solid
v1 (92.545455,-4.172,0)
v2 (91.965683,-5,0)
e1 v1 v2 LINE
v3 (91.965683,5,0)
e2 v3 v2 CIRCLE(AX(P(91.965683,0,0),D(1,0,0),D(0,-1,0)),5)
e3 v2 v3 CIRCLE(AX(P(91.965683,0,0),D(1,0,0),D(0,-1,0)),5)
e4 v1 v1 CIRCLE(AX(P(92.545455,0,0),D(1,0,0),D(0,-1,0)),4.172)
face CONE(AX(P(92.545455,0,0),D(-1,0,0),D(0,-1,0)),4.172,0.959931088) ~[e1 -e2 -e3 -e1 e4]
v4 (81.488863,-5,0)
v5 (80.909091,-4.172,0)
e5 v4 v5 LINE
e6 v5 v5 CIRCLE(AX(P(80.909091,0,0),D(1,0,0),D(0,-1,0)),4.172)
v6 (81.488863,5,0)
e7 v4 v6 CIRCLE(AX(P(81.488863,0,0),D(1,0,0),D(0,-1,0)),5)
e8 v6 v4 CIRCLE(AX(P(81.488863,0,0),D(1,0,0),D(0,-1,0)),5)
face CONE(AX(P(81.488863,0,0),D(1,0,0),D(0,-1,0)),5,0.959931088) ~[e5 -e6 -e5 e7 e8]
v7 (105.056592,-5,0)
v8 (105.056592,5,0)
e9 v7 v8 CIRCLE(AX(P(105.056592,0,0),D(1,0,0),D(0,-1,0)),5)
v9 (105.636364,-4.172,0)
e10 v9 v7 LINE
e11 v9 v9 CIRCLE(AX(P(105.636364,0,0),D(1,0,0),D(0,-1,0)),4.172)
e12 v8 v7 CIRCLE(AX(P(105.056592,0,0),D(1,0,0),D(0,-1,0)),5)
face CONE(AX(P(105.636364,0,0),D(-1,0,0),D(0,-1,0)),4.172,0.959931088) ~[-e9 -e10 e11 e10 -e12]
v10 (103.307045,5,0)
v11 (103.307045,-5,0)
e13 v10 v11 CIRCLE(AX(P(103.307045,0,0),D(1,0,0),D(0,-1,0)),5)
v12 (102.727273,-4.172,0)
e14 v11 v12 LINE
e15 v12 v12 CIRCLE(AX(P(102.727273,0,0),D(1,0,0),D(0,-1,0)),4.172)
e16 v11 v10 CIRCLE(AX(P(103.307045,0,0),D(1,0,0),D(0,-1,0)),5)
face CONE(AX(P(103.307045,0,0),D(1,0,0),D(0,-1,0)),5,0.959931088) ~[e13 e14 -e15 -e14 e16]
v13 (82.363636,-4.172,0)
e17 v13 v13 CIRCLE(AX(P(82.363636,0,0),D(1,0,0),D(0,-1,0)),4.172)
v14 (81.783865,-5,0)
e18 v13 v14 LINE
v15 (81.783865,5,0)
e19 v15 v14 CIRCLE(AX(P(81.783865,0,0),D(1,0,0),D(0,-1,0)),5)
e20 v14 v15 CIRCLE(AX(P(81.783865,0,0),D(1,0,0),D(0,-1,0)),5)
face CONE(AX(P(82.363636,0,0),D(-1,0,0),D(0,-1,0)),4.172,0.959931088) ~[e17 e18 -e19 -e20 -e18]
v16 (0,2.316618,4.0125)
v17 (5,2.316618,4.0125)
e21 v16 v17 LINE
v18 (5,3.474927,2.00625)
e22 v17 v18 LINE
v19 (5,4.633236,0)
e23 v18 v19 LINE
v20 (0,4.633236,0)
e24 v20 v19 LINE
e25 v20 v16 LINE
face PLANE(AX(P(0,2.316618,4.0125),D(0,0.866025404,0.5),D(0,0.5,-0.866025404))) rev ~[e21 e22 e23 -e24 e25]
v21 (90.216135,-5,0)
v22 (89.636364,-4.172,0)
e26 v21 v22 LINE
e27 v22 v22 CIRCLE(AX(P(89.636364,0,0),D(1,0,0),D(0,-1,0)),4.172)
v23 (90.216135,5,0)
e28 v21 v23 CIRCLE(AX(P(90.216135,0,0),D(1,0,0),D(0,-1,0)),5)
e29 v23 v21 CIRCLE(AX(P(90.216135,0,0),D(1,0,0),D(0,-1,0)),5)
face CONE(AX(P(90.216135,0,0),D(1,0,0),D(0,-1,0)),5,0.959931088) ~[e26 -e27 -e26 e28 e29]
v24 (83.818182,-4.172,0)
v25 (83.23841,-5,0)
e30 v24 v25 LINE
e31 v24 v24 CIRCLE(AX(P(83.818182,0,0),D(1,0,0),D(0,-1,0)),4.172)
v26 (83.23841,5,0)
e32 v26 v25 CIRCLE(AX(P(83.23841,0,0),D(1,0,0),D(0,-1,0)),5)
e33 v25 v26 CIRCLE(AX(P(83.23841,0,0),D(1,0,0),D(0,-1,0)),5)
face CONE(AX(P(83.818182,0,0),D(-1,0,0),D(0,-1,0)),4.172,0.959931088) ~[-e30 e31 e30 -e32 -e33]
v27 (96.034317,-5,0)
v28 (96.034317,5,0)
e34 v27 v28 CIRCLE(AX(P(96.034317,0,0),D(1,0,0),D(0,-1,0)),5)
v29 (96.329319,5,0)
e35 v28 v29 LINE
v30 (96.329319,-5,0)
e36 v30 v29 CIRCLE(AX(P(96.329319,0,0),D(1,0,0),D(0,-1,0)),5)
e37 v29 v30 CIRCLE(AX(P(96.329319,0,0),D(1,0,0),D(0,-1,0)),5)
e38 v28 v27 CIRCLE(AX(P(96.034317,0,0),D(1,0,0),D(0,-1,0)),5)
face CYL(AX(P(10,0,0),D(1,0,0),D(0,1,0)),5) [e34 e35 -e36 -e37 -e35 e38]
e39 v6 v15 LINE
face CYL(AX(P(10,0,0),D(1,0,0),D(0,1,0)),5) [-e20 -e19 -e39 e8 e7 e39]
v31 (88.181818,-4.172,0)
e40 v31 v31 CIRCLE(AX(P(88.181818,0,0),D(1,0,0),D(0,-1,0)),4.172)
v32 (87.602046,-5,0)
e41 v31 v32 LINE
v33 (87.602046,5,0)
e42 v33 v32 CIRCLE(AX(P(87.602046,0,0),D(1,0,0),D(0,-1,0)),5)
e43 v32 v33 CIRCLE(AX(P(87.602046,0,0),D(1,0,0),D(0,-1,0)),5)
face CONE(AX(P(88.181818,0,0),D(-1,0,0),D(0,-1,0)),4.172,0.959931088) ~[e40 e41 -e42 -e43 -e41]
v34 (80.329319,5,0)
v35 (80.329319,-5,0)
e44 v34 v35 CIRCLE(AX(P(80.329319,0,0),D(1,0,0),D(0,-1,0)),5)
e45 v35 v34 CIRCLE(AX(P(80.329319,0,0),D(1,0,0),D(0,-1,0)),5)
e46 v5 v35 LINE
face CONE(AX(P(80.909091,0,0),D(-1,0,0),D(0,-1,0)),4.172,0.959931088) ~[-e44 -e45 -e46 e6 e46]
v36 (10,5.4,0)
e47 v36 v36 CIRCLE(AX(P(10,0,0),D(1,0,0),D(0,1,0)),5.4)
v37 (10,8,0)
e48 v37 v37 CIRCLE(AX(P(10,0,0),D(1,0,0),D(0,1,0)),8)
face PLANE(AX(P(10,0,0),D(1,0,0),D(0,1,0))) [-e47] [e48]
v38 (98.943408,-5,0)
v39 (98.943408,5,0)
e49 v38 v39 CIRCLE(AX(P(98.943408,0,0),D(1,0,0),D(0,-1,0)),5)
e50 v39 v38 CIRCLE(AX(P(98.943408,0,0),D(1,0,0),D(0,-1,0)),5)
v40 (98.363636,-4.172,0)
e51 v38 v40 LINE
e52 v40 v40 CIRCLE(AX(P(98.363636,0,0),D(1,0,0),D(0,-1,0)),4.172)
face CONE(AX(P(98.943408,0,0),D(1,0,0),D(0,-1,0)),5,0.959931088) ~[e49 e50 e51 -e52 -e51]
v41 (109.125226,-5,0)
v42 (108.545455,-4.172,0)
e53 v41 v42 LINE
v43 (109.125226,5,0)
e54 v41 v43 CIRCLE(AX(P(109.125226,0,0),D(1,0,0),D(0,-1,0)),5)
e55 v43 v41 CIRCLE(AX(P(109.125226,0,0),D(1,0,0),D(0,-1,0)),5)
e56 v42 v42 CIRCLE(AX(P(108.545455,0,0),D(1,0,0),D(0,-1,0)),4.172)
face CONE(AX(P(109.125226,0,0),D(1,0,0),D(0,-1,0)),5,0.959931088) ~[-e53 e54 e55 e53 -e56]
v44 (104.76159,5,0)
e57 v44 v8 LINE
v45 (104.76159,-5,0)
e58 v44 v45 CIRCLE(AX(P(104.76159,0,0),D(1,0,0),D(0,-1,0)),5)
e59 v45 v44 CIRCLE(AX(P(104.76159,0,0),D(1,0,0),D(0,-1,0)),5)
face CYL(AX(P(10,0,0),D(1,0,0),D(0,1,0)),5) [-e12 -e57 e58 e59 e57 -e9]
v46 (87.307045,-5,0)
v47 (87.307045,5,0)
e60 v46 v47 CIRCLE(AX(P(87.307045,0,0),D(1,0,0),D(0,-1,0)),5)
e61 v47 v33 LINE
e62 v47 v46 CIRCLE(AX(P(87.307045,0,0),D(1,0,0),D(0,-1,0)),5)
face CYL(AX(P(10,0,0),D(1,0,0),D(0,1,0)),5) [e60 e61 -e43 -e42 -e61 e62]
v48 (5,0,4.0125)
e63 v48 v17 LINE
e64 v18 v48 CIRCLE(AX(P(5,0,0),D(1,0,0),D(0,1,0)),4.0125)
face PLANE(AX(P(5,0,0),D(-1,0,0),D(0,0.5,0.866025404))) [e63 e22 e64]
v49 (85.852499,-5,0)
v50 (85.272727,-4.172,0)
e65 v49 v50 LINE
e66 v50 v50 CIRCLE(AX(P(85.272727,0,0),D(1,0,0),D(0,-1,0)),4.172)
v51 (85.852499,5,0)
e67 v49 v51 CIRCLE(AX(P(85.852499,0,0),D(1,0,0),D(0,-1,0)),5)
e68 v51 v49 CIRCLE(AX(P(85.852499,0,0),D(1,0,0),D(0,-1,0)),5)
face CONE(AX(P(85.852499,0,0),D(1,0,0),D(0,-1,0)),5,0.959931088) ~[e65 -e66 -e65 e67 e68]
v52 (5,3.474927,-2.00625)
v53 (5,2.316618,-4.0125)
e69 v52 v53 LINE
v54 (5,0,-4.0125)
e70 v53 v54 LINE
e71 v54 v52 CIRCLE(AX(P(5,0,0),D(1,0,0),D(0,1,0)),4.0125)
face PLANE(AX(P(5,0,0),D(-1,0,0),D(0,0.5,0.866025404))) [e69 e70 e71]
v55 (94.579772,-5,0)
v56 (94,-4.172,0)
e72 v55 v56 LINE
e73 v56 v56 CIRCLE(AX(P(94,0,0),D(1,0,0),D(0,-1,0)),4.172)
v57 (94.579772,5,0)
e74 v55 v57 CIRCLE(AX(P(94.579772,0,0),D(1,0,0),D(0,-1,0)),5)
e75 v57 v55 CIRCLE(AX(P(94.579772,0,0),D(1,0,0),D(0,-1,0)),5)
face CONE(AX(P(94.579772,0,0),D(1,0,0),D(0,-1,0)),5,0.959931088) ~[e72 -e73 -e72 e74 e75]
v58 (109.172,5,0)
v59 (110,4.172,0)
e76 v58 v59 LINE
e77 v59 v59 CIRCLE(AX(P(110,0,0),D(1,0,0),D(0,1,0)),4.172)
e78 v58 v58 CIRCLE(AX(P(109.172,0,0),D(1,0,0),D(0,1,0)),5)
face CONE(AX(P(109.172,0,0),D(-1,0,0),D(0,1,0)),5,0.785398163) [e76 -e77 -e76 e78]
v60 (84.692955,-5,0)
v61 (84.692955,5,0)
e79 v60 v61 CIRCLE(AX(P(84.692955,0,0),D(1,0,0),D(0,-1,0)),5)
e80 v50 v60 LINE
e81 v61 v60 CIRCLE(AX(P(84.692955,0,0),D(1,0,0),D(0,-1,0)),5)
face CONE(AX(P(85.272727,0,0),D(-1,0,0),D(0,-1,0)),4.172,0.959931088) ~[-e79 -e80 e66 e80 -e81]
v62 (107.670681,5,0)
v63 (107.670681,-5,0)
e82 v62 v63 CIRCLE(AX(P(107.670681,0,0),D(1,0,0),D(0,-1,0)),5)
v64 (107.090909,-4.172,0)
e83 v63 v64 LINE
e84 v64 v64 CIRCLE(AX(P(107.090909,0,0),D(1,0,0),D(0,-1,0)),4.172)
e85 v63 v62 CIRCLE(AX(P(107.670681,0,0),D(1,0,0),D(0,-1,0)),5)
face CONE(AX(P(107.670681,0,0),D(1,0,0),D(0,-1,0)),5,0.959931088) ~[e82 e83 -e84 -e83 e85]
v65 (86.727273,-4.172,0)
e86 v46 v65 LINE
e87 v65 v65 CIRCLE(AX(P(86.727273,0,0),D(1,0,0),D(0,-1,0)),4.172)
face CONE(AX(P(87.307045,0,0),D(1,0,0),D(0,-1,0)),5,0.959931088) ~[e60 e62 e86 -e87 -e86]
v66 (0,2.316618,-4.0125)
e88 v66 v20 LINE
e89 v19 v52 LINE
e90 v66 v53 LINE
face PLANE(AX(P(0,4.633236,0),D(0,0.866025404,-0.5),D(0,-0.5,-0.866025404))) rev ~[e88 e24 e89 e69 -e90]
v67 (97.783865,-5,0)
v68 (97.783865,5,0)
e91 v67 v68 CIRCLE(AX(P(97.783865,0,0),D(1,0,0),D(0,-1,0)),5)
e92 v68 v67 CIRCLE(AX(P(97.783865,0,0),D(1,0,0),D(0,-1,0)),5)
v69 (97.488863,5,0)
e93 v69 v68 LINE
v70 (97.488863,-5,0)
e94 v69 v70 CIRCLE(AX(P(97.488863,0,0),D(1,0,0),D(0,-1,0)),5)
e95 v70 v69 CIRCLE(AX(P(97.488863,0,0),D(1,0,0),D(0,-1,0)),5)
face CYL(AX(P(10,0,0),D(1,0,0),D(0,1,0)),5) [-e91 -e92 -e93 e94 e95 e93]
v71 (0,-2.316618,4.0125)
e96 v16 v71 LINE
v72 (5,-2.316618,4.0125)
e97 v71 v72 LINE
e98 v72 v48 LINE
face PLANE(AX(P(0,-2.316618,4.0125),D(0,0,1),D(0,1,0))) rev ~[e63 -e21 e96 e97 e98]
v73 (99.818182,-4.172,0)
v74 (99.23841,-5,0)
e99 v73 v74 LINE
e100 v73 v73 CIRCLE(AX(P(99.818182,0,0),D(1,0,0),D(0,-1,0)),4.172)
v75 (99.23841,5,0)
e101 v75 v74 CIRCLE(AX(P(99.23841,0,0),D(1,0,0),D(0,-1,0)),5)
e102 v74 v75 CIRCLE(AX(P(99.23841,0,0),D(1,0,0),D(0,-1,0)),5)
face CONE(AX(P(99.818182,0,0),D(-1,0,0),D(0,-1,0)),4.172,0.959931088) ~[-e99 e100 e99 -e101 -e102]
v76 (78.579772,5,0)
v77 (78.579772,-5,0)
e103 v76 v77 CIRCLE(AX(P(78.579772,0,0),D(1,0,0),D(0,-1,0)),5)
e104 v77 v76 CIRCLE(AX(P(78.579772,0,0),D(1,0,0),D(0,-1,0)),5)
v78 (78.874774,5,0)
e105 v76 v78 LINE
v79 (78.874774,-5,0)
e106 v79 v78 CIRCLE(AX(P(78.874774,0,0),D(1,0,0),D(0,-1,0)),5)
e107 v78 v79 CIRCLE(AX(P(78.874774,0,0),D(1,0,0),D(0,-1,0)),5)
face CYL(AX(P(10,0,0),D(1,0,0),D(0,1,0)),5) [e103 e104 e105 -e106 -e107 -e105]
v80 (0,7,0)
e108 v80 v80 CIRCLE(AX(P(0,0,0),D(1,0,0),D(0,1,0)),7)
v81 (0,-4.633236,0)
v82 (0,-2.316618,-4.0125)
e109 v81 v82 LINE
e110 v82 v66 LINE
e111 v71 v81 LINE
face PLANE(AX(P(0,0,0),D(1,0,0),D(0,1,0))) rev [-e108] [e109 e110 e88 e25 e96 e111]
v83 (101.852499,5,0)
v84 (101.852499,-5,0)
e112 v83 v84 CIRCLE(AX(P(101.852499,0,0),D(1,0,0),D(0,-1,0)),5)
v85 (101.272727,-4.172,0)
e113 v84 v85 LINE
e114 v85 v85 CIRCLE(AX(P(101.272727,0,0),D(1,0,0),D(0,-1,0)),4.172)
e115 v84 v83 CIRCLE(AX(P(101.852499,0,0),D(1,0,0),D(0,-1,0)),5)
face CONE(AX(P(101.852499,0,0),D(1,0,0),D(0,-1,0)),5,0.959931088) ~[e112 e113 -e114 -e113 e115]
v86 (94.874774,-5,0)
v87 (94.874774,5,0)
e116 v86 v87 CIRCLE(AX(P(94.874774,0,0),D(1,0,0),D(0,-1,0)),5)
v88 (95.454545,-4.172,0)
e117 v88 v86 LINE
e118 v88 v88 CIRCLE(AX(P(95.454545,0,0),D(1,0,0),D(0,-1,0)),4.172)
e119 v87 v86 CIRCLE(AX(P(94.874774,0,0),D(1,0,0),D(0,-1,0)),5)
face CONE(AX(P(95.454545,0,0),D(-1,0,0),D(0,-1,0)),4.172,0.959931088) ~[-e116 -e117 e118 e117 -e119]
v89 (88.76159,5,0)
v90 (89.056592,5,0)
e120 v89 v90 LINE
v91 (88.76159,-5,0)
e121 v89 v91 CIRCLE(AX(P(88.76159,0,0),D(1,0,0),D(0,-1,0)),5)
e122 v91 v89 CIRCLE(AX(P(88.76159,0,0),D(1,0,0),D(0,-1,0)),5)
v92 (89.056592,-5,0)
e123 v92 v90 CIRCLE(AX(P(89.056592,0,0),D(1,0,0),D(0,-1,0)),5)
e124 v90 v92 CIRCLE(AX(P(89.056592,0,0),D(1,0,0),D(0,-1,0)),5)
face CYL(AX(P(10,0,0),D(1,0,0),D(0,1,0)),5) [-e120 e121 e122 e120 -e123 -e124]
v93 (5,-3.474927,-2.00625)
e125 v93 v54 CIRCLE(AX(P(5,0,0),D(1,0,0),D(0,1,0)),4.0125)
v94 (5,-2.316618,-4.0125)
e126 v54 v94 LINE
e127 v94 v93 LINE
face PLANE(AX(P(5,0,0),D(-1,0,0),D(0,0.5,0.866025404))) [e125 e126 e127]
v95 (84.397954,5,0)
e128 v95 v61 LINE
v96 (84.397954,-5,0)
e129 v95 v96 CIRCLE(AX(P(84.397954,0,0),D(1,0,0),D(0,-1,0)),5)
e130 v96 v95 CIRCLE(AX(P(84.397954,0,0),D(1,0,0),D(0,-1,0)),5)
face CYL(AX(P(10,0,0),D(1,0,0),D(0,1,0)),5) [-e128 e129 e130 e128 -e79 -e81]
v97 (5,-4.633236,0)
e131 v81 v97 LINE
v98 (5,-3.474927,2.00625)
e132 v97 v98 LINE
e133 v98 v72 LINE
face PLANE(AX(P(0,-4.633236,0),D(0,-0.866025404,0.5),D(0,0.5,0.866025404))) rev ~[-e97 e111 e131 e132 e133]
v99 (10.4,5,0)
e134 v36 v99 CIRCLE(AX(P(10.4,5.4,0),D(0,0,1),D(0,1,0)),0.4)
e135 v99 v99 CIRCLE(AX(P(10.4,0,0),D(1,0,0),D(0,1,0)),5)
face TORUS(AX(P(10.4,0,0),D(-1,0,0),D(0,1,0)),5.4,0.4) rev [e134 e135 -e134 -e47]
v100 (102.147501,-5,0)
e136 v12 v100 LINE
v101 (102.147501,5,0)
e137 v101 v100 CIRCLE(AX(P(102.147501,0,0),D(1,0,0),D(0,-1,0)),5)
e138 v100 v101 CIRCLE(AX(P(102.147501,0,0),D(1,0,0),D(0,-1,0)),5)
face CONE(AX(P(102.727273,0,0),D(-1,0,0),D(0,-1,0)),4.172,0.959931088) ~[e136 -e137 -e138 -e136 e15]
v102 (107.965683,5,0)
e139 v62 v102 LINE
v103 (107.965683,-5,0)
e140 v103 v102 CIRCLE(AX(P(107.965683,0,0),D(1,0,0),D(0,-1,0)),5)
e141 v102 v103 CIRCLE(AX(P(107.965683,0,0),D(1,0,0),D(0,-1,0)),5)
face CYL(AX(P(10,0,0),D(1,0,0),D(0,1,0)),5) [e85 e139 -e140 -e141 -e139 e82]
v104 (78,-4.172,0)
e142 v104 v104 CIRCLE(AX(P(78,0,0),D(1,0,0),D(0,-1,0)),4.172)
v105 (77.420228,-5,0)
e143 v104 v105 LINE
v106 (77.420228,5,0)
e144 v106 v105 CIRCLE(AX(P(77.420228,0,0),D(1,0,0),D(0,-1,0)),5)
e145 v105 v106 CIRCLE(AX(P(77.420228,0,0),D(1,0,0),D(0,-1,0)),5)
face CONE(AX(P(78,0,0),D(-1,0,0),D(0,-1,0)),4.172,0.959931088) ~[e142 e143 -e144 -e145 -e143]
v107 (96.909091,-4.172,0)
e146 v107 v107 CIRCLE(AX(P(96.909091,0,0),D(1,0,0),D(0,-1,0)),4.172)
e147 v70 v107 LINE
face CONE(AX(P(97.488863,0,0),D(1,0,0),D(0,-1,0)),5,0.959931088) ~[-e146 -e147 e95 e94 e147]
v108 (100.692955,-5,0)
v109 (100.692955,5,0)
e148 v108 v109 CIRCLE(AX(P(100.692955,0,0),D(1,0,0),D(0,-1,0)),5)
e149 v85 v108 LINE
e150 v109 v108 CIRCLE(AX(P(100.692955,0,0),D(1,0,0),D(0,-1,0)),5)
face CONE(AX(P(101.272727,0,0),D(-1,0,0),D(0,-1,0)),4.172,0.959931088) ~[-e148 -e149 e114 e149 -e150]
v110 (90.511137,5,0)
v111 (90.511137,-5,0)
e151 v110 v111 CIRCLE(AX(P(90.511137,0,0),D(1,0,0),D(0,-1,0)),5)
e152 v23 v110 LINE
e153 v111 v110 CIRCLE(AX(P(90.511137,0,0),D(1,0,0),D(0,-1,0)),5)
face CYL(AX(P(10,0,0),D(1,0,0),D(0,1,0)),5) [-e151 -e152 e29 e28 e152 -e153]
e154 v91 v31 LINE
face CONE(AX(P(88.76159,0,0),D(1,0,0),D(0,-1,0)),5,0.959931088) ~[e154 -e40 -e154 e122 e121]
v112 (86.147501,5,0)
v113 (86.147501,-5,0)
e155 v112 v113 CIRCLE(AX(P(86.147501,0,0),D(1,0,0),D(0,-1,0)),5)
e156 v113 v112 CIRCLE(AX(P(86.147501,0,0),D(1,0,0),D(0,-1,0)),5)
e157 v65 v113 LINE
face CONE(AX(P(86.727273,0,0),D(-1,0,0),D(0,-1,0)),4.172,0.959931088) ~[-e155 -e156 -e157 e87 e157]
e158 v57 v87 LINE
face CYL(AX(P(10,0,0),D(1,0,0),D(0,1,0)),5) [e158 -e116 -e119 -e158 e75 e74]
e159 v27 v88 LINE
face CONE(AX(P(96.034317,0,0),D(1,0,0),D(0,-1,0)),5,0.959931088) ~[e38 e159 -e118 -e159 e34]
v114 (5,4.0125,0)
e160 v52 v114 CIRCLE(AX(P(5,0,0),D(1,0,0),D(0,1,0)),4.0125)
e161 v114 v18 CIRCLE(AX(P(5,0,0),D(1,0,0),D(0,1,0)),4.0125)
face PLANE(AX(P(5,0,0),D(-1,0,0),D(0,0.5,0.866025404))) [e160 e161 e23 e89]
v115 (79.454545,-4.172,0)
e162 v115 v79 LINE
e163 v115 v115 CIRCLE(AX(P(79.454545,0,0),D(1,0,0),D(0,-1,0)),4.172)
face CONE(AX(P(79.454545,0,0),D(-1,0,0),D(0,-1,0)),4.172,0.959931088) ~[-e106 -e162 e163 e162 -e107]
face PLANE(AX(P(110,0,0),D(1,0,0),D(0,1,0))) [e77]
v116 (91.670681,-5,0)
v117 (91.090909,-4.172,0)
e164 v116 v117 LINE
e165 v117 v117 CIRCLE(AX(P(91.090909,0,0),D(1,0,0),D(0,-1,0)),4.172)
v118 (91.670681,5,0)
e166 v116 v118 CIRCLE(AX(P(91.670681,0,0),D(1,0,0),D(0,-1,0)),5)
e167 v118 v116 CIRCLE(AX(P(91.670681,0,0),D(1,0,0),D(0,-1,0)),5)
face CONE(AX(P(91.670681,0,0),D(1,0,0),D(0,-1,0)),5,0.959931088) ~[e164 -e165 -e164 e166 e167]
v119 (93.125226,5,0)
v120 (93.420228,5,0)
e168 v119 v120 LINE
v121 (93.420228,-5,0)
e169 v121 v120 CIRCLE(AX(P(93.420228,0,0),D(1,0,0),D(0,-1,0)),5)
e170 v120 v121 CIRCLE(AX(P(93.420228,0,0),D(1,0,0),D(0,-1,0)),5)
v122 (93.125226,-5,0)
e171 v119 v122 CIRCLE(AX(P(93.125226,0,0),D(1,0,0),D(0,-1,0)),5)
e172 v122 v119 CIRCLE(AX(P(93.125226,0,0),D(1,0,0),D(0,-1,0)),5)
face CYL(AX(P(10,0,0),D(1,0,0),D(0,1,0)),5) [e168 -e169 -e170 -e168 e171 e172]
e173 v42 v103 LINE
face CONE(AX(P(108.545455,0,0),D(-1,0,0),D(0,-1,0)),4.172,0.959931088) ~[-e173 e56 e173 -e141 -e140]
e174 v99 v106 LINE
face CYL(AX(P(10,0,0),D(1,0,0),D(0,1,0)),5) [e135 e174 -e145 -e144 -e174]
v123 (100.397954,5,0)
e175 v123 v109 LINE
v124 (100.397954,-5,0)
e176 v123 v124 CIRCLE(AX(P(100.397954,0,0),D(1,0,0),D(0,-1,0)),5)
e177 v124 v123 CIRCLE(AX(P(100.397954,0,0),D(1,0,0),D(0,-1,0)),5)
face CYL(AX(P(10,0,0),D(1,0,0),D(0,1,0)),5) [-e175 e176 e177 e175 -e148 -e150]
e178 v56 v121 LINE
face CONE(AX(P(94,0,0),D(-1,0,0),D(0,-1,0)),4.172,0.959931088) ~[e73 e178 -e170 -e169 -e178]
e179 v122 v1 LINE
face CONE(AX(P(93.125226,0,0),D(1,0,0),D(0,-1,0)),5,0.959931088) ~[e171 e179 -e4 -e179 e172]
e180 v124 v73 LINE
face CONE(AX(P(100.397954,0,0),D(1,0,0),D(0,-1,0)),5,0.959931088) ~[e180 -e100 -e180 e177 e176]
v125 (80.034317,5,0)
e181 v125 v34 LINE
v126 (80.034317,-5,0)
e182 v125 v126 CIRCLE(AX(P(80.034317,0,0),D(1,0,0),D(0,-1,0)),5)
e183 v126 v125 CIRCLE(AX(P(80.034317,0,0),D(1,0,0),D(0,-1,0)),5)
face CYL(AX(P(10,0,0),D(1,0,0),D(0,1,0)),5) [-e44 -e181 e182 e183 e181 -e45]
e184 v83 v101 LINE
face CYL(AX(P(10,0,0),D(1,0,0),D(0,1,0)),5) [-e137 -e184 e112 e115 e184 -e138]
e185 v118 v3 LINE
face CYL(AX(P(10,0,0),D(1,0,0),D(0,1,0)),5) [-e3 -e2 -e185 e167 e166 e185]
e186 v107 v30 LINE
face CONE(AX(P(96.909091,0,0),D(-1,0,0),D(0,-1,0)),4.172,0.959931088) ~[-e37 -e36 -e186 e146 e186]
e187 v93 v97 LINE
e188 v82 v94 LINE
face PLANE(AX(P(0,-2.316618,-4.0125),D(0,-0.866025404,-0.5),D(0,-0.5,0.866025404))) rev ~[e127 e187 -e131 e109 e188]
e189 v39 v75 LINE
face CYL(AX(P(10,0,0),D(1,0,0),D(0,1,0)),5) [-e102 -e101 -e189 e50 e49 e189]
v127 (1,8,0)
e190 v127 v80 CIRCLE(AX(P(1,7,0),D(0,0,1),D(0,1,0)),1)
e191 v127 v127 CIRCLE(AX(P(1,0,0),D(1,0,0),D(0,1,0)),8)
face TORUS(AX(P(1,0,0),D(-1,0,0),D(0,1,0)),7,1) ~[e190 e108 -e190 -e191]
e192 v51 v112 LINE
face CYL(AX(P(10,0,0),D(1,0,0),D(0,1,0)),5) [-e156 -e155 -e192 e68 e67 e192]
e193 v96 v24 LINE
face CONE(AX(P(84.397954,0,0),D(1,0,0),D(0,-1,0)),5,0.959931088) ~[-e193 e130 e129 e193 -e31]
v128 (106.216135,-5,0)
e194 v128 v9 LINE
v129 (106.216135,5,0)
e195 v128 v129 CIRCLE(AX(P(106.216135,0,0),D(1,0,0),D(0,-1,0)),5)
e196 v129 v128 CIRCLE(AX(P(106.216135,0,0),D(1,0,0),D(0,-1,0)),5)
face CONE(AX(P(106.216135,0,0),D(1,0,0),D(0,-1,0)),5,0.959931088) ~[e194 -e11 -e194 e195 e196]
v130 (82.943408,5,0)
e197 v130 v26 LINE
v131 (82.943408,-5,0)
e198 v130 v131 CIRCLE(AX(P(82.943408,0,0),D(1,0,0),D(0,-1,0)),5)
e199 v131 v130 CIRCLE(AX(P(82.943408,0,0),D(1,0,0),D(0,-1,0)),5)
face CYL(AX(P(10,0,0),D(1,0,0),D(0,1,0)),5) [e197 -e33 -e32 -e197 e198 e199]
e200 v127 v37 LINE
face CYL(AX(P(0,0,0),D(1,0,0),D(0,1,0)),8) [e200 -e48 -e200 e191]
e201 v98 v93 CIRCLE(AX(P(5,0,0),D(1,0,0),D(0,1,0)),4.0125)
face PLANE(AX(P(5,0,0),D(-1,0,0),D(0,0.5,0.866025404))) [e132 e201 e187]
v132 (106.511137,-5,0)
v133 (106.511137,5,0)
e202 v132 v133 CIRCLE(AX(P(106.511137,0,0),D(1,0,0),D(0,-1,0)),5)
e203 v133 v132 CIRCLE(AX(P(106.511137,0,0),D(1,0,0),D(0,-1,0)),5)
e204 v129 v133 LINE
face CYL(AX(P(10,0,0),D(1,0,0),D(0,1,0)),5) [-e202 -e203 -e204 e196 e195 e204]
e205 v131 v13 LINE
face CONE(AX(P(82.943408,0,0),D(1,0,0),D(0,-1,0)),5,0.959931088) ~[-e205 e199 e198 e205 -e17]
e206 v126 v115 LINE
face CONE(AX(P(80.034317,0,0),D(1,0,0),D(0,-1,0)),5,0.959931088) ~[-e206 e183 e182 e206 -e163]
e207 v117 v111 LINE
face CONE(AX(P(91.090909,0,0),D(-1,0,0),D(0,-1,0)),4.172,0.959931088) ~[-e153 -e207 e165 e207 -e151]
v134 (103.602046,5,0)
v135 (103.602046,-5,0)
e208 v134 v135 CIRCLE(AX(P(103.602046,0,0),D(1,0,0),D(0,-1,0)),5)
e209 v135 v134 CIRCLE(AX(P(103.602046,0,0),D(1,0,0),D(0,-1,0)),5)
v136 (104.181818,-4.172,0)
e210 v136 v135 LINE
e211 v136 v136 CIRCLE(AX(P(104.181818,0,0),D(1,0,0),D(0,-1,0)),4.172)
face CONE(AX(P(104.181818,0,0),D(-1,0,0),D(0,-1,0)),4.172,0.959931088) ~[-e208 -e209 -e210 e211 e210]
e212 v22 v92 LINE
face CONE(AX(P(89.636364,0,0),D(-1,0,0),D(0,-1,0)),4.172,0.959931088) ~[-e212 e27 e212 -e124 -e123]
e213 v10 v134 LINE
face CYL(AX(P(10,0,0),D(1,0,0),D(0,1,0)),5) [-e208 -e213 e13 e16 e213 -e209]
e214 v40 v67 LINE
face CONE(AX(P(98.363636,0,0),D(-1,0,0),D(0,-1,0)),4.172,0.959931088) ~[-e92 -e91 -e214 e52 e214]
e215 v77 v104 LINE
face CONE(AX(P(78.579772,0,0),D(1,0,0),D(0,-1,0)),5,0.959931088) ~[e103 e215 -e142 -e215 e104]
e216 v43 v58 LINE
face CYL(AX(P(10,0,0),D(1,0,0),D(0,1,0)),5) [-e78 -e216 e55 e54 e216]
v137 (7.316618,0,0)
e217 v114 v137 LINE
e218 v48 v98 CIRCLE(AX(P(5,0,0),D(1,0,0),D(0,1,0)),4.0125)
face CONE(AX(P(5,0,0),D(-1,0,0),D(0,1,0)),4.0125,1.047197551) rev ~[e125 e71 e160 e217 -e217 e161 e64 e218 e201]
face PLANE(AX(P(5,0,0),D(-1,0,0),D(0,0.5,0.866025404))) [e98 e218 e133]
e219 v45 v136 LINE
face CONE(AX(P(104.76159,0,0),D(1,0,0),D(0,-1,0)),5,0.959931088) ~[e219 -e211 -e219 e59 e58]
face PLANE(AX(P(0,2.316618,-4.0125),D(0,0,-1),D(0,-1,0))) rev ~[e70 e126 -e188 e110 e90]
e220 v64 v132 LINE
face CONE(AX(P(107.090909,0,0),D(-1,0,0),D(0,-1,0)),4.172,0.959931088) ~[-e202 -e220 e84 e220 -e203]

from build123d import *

# Parameters (mm, degrees)
FILLET1_R       = 0.4
FILLET2_R       = 1
HEX_2_DEPTH     = 5
THDSCHPAT_COUNT = 22
THDSCHPAT_PITCH = 1.454545455


with BuildPart() as part:
    # BodySke → Base-Revolve (revolve)
    with BuildSketch(Plane.XY):
        Polygon((0, 0), (0, 8), (10, 8), (10, 5), (109.172, 5), (110, 4.172), (110, 0), align=None)
    revolve(axis=Axis((-31.75, 0, 0), (1, 0, 0)))

    # Fillet1
    fillet1_edges = [part.edges().sort_by_distance(p)[0] for p in [
        (10, -5, 0),
    ]]
    fillet(fillet1_edges, radius=FILLET1_R)

    # Fillet2
    fillet2_edges = [part.edges().sort_by_distance(p)[0] for p in [
        (0, -8, 0),
    ]]
    fillet(fillet2_edges, radius=FILLET2_R)

    # Sketch2 → Hex-PreBroach (revolve, cut)
    with BuildSketch(Plane.XY):
        Polygon((0, 4.0125), (5, 4.0125), (7.316617955, 0), (0, 0), align=None)
    revolve(axis=Axis((0, 0, 0), (1, 0, 0)), mode=Mode.SUBTRACT)

    # Sketch3 → Hex 2 (cut)
    with BuildSketch(Plane(origin=(0, 0, 0), x_dir=(0, 0.5, 0.866025404), z_dir=(-1, 0, 0))):
        Polygon((2.316617955, 4.0125), (-2.316617955, 4.0125), (-4.63323591, 0), (-2.316617955, -4.0125), (2.316617955, -4.0125), (4.63323591, 0), align=None)
    extrude(amount=-HEX_2_DEPTH, mode=Mode.SUBTRACT)

    # ThdSchSke → ThreadSchematic (revolve, cut)
    with BuildSketch(Plane.XY):
        Polygon((78, -4.172), (77.420228158, -5), (77.420228158, -6.25), (78.579771842, -6.25), (78.579771842, -5), align=None)
    threadschematic = revolve(axis=Axis((-3.175, 0, 0), (1, 0, 0)), mode=Mode.SUBTRACT)

    # ThdSchPat: ThreadSchematic ×22
    with Locations(*[(i * THDSCHPAT_PITCH, 0, 0) for i in range(1, THDSCHPAT_COUNT)]):
        add(threadschematic, mode=Mode.SUBTRACT)


solid = part.part
